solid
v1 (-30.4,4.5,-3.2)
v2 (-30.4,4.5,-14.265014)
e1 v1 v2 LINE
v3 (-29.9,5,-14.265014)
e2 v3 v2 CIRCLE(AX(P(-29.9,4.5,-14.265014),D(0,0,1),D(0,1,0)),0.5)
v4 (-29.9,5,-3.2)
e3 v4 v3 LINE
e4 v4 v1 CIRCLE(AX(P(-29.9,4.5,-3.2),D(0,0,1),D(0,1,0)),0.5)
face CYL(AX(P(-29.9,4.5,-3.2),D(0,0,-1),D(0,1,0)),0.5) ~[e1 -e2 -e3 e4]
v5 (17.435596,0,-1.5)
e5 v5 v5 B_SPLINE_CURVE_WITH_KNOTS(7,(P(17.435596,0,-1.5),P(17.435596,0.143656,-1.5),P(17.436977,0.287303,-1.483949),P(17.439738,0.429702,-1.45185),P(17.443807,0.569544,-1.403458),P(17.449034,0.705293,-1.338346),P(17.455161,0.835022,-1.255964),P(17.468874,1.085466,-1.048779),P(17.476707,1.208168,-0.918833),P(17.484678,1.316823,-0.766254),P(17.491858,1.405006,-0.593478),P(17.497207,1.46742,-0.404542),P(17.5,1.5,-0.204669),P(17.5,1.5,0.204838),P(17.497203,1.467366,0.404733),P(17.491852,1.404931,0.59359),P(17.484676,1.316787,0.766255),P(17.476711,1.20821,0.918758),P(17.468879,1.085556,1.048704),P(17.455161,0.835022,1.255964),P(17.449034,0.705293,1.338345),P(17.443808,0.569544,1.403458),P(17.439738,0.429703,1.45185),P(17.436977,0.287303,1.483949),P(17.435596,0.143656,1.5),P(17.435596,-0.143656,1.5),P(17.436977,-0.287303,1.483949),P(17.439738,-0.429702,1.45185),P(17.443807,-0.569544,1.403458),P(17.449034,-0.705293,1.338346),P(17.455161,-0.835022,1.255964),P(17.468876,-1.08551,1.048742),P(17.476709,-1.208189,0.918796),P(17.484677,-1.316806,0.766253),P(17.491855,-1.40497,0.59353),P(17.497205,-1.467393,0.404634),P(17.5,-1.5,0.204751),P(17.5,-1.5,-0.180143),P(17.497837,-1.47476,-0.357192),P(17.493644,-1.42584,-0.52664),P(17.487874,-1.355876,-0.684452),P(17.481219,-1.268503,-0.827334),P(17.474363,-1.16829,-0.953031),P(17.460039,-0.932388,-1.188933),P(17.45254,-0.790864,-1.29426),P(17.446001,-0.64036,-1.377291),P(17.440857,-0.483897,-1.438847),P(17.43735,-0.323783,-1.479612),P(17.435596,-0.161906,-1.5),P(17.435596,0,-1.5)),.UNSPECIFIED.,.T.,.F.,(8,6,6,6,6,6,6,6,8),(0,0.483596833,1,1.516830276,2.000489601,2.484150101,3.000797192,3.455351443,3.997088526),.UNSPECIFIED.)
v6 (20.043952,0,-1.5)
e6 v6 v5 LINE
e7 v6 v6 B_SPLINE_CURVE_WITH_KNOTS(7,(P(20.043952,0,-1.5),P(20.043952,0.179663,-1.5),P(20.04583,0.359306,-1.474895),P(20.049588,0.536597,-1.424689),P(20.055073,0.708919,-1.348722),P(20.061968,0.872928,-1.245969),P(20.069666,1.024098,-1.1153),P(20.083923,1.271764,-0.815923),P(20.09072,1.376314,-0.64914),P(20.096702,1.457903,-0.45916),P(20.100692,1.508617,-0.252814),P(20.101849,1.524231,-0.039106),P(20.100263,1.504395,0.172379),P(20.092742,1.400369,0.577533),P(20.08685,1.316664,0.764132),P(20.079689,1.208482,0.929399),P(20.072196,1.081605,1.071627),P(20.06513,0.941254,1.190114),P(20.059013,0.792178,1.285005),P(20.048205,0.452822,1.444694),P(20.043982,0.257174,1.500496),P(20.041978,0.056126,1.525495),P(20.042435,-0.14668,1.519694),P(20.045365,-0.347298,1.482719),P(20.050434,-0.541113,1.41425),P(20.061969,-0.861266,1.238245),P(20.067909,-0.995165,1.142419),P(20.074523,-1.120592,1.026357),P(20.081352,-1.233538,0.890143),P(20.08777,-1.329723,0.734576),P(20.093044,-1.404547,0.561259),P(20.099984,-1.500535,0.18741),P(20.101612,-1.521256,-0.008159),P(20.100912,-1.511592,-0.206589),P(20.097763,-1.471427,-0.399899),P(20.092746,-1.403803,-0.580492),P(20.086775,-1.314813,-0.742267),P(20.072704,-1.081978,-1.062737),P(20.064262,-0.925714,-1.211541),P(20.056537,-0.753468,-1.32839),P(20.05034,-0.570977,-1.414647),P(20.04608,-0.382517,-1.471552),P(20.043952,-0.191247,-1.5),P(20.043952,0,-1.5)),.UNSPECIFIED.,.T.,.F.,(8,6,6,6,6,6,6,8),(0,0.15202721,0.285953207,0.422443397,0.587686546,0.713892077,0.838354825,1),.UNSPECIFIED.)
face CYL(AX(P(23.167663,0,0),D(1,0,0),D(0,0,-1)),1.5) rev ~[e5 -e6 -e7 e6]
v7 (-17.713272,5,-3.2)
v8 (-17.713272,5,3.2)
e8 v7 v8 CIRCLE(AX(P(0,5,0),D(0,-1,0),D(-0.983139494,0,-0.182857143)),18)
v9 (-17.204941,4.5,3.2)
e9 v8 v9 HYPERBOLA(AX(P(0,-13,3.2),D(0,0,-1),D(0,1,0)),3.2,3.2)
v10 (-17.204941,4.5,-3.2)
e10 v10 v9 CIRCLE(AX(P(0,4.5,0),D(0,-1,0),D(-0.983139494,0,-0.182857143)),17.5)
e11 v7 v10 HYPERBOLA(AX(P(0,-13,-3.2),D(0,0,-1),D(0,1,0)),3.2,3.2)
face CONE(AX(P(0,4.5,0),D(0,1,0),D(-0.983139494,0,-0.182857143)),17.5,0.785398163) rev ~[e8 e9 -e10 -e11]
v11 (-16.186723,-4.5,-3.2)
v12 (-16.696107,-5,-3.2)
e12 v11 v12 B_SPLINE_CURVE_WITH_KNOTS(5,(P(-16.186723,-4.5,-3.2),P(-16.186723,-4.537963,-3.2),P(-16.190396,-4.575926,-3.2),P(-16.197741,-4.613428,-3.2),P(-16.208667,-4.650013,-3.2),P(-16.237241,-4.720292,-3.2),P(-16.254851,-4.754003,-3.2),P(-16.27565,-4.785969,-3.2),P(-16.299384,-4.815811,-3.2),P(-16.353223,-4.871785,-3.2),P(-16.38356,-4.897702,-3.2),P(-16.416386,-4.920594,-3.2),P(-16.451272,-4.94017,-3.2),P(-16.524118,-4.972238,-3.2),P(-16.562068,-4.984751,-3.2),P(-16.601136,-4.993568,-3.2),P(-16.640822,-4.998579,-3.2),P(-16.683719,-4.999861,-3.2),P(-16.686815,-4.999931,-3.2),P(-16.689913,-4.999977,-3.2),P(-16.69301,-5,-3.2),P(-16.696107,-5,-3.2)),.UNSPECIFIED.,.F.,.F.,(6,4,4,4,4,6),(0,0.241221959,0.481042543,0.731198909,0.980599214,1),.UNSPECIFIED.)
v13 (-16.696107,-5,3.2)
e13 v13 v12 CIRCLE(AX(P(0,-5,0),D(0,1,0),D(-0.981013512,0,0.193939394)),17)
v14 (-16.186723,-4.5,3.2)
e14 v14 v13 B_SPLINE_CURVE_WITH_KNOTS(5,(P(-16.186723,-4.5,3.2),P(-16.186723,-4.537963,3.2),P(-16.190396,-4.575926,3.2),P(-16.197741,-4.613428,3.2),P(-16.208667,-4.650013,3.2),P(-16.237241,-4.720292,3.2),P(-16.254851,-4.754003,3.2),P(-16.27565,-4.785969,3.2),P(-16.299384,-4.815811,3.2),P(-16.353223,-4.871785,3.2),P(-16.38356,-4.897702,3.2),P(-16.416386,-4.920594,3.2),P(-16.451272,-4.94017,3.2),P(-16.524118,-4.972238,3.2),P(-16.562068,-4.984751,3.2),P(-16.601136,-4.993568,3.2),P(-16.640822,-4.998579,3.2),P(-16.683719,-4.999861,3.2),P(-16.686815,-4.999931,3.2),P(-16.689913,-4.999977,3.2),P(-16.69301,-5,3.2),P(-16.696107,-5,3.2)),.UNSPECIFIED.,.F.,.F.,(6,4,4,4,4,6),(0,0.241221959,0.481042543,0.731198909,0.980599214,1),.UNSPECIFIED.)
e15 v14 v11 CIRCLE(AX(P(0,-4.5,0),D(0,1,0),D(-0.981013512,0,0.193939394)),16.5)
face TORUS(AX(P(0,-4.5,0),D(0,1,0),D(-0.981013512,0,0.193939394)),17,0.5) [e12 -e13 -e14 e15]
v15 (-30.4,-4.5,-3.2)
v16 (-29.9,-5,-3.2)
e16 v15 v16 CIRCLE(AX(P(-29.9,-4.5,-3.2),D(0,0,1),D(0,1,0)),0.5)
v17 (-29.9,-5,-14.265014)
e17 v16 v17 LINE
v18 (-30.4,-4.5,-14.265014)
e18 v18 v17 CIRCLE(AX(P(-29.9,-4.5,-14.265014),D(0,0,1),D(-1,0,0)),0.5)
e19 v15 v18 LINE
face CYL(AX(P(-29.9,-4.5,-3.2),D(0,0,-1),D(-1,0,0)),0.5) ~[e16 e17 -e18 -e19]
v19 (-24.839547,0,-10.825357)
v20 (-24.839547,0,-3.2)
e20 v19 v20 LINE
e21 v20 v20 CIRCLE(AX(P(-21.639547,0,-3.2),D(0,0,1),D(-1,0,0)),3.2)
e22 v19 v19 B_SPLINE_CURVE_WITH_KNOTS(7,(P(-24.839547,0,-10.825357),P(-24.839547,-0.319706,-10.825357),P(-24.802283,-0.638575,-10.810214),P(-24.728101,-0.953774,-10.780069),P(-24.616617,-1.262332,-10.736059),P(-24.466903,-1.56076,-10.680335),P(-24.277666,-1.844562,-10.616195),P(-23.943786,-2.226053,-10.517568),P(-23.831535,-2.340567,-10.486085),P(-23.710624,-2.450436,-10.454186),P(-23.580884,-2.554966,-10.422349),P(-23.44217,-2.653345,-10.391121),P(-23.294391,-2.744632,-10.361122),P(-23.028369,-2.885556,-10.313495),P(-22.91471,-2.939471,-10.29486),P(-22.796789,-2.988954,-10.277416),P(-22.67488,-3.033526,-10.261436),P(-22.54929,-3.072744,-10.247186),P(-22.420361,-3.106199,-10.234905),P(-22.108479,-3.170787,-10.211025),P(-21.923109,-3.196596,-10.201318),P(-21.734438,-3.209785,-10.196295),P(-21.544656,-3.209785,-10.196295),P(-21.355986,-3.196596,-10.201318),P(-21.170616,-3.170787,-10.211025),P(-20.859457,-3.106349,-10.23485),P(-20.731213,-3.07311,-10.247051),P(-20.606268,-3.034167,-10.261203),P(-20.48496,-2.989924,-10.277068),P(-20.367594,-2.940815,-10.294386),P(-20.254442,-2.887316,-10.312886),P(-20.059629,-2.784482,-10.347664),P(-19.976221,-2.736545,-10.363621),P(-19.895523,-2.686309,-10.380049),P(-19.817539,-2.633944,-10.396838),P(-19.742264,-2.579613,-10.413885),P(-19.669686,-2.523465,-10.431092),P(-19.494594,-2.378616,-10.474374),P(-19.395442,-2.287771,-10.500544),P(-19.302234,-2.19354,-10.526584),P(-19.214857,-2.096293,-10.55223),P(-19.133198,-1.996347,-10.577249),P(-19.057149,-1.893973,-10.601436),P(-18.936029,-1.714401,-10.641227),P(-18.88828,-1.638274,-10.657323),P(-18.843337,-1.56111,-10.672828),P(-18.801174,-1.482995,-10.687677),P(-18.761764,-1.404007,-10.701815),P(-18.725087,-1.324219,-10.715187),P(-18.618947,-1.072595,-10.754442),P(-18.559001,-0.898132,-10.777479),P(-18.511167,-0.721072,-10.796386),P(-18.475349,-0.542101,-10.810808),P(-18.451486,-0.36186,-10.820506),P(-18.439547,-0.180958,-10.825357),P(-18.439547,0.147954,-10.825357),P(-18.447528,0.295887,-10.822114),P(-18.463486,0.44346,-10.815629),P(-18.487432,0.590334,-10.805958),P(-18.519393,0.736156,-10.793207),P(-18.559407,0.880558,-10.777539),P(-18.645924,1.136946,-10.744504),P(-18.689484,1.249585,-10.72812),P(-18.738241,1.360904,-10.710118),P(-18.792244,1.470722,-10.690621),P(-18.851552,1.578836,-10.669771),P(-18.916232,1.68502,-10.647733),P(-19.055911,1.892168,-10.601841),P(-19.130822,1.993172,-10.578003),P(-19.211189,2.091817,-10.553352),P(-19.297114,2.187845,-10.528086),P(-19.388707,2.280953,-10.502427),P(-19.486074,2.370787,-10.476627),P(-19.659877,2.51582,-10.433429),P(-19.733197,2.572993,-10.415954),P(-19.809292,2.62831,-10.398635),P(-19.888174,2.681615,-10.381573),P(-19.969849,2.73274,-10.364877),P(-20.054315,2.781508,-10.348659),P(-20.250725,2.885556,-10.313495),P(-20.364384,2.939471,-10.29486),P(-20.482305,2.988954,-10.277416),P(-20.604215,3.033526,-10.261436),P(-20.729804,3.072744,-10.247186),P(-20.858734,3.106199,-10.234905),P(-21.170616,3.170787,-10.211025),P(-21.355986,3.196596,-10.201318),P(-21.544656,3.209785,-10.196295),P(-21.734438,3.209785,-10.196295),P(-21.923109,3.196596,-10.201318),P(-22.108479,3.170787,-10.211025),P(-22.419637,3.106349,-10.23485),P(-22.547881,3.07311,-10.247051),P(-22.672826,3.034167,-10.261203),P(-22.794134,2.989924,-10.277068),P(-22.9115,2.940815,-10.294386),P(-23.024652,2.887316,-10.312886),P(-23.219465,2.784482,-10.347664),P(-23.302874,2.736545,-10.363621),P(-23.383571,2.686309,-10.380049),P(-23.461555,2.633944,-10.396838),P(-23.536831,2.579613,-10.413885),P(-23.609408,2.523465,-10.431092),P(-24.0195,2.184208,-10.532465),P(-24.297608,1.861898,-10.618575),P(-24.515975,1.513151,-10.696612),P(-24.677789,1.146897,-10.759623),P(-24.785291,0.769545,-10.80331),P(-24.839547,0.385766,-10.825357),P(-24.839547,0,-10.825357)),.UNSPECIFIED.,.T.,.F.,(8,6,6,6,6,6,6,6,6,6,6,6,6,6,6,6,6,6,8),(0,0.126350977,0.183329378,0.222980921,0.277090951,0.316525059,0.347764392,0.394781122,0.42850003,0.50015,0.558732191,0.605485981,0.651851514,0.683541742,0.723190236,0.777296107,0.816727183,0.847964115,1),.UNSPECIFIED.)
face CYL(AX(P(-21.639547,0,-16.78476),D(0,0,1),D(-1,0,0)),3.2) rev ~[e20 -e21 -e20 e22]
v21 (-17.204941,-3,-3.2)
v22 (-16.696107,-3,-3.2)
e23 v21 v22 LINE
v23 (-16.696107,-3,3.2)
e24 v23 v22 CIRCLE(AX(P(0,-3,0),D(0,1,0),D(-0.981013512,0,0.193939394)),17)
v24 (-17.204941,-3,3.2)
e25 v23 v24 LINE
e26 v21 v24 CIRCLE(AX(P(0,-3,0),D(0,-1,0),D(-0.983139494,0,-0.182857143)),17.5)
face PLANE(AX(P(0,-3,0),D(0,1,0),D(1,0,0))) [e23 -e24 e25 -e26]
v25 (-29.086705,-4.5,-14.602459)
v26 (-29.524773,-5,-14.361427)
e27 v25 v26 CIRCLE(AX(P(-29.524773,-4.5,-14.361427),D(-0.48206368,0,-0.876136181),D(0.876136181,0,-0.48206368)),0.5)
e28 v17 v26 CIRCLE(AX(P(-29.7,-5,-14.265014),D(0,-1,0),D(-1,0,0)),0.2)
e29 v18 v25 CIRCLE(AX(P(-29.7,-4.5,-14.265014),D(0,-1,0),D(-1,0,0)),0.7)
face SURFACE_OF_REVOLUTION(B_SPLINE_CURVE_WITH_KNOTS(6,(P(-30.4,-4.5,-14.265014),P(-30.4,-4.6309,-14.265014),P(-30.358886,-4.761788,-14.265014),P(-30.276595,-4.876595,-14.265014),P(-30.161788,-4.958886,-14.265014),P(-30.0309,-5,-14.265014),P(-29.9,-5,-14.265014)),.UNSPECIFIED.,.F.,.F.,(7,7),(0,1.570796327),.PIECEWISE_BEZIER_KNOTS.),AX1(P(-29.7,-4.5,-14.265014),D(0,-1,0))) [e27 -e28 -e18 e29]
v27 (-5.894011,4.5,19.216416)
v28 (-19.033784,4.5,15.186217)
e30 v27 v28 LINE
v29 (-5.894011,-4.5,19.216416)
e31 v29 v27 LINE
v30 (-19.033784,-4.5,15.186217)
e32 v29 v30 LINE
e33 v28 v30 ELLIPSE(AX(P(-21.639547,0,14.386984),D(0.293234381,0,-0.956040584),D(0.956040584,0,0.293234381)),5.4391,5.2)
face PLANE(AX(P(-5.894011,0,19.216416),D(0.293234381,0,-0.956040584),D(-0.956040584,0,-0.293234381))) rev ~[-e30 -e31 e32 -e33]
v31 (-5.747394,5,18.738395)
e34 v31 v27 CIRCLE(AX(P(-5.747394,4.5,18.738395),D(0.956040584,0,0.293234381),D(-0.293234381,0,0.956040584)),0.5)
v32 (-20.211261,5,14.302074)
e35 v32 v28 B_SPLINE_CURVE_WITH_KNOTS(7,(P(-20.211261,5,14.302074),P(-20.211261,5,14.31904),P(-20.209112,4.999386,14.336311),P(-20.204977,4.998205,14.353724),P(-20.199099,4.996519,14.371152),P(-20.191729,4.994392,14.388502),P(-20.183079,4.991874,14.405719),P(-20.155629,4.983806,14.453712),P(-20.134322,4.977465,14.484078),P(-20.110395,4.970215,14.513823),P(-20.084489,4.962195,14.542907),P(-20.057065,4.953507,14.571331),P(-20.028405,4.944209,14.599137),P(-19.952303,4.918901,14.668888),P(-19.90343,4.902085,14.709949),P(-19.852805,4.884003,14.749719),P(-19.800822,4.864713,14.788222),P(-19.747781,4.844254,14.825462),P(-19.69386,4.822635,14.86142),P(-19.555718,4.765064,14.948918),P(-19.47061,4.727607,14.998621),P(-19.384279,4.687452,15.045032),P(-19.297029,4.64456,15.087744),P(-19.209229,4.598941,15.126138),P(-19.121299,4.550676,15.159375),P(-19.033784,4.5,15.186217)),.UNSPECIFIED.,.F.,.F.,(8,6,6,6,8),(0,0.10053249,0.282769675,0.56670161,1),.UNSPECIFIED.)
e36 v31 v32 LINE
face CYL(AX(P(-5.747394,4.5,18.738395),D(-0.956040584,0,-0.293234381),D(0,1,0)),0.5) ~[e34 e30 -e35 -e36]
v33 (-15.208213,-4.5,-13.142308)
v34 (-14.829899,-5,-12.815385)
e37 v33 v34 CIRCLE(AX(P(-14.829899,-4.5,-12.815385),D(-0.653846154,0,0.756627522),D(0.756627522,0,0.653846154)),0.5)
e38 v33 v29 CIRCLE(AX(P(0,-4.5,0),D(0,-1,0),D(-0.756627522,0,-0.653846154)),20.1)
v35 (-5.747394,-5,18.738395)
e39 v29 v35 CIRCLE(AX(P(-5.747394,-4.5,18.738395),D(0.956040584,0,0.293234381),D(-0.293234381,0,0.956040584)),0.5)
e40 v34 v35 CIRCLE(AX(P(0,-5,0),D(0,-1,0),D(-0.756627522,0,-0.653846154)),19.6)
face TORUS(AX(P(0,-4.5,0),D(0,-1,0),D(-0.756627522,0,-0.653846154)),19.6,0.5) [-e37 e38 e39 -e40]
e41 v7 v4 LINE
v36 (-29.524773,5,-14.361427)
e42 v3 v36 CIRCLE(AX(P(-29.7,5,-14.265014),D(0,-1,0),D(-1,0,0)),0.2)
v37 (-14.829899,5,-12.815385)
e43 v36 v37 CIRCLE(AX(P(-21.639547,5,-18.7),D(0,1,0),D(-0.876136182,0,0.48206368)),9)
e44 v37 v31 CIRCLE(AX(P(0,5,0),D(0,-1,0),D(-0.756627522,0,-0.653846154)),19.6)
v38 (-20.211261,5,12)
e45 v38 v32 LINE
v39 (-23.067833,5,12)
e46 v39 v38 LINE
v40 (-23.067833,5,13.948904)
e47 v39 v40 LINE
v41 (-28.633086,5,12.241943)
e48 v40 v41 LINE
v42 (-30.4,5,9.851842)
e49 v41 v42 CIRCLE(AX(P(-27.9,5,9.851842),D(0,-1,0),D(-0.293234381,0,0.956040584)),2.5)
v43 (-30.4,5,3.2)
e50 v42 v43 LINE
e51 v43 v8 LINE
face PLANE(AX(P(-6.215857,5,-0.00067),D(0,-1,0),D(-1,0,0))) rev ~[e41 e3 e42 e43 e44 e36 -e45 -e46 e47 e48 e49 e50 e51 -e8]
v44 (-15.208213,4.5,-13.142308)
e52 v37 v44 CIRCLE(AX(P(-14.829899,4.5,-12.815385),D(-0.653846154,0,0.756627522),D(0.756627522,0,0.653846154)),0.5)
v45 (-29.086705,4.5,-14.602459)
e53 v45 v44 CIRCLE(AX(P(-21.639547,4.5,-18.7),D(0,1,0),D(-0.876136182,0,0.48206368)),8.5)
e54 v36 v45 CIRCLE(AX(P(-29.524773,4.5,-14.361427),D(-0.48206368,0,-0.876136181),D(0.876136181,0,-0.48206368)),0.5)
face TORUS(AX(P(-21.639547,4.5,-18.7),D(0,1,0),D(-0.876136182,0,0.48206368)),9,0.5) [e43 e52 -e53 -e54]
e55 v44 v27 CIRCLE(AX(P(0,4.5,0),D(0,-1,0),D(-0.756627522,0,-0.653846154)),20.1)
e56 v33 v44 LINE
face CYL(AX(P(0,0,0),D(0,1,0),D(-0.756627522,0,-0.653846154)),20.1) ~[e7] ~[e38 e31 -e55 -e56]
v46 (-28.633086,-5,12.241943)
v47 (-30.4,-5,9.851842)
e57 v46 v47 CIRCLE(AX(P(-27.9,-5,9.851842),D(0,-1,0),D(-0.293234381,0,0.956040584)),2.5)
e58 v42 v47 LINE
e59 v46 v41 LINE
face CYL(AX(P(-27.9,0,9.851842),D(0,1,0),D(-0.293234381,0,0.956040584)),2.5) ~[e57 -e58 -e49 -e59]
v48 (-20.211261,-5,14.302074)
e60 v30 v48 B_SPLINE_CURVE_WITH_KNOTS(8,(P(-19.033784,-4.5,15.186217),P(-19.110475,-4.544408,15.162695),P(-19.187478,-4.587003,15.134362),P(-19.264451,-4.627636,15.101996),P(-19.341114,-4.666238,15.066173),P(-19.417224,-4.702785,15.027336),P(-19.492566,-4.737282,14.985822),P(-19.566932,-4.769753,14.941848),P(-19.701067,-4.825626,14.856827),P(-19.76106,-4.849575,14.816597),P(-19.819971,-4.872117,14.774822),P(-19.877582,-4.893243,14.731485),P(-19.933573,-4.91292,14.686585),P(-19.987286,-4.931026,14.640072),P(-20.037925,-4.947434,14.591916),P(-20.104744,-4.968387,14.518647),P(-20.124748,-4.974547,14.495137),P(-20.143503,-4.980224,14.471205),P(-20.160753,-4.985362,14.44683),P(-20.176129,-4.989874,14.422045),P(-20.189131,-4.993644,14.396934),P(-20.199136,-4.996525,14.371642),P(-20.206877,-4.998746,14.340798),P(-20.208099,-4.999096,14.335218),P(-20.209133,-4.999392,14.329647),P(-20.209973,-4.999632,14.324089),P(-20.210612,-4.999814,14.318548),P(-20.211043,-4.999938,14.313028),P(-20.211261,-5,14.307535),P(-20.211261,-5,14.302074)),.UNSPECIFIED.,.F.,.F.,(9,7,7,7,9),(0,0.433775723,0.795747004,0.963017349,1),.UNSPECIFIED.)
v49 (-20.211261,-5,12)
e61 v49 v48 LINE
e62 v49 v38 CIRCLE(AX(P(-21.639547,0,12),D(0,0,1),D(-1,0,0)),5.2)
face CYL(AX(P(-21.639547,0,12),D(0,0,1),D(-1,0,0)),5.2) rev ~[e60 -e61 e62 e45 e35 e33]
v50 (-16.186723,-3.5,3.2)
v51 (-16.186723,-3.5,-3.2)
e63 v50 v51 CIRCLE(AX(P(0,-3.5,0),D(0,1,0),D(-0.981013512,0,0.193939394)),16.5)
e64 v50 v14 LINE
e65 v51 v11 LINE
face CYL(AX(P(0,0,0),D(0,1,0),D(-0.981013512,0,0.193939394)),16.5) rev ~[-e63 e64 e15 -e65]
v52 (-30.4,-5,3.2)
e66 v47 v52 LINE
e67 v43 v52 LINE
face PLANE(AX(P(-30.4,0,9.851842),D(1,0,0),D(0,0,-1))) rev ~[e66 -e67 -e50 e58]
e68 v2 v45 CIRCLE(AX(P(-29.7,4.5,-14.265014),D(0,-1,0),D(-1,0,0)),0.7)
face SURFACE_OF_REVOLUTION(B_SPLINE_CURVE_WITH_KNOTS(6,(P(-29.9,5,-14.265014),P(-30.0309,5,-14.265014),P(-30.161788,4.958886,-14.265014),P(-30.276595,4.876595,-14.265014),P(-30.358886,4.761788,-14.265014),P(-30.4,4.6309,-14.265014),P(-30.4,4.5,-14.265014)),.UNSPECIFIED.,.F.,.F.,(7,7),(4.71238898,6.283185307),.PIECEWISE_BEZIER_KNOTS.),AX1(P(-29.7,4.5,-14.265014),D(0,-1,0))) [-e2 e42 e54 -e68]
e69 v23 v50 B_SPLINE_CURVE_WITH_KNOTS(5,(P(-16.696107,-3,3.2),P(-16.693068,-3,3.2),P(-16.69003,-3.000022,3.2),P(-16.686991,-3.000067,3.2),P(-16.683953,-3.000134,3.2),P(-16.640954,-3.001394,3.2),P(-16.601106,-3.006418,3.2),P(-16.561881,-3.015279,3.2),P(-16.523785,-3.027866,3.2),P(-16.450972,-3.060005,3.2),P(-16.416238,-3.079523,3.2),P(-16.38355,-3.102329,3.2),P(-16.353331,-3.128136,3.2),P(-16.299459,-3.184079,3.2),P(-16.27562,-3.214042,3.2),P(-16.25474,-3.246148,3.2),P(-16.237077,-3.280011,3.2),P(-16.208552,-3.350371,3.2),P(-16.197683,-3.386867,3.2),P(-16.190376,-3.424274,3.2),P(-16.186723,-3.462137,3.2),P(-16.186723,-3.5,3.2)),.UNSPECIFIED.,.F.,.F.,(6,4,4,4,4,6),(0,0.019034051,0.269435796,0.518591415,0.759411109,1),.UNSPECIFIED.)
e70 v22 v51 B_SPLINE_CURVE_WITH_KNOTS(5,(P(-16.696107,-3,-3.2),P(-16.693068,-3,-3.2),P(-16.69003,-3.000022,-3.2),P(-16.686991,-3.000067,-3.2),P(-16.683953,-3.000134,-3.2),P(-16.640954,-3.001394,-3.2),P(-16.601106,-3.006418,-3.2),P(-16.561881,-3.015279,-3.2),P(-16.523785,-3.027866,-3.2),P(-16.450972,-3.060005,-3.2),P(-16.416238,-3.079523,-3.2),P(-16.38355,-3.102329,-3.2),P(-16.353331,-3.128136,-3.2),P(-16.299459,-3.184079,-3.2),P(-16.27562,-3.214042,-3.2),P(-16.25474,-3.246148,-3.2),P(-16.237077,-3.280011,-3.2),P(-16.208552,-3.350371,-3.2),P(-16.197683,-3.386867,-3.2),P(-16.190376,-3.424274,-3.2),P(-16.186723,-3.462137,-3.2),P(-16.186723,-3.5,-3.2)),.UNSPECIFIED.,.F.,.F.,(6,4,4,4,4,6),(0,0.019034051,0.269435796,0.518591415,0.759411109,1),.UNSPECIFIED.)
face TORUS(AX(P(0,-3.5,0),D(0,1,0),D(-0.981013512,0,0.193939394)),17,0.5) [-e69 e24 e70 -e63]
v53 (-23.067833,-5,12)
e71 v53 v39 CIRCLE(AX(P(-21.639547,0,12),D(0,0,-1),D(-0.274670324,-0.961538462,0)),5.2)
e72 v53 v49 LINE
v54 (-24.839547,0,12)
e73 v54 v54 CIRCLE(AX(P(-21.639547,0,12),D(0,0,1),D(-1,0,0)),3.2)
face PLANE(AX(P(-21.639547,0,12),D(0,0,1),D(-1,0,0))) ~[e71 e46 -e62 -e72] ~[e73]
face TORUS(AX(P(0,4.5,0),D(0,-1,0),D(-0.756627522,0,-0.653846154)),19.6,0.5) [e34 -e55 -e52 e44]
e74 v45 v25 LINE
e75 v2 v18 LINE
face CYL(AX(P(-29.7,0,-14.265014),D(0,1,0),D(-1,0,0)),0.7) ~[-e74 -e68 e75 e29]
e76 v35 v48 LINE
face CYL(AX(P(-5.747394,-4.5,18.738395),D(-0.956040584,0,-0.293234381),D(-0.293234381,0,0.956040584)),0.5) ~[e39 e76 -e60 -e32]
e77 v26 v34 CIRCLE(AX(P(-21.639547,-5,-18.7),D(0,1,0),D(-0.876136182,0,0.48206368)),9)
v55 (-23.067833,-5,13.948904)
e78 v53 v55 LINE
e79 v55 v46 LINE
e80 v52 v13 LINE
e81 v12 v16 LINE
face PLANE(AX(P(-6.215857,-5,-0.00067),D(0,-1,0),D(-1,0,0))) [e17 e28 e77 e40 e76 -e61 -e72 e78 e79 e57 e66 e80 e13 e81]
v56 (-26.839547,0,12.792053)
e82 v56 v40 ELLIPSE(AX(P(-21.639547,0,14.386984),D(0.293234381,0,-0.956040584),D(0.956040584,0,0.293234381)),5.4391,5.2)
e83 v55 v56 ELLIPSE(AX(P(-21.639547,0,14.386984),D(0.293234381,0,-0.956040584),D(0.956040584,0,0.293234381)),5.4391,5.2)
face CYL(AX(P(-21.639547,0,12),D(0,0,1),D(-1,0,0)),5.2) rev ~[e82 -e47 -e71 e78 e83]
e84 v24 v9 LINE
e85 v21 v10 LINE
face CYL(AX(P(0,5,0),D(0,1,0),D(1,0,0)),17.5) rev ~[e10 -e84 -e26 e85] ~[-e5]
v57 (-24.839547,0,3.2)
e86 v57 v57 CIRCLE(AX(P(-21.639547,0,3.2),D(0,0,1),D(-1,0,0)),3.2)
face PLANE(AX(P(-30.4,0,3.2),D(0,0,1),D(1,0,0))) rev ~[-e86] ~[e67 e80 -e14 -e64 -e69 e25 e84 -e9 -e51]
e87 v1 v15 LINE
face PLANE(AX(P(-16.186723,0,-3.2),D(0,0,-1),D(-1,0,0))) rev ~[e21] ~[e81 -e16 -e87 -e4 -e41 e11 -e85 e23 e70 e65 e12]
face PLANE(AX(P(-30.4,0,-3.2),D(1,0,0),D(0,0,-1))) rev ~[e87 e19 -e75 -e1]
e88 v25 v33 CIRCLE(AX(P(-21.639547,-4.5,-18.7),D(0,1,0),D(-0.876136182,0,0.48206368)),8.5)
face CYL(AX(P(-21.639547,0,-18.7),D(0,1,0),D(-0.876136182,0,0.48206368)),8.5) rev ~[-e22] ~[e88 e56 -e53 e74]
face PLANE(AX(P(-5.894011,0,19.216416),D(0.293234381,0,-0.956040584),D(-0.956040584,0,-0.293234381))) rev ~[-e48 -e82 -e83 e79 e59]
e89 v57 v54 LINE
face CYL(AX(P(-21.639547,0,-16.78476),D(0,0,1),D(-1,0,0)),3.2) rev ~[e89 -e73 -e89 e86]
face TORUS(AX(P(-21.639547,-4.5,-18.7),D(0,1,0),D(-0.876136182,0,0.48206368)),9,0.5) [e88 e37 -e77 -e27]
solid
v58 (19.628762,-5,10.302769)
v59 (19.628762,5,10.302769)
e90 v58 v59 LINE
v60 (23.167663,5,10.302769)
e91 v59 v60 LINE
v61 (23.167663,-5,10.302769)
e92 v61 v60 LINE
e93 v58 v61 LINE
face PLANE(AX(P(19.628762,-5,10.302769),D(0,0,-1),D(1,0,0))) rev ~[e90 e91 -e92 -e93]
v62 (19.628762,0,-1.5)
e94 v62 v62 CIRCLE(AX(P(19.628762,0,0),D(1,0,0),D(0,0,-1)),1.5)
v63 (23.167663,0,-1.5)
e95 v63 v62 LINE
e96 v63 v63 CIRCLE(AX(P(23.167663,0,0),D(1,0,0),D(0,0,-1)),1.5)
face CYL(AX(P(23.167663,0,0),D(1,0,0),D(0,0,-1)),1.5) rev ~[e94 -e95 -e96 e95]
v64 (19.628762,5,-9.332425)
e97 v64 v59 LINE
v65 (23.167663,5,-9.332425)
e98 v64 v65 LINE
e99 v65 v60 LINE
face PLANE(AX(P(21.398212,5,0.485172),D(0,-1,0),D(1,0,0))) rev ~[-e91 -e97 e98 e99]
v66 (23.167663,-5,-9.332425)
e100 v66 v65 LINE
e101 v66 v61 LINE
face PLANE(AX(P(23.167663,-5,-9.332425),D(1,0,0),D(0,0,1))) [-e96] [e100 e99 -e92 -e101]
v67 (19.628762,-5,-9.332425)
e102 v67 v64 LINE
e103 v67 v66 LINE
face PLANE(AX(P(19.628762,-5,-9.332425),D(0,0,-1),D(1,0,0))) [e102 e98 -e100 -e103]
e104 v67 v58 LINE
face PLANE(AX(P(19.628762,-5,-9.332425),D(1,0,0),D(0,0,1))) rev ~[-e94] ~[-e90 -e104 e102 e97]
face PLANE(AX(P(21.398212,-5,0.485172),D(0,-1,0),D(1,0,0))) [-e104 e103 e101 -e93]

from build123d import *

# Parameters (mm, degrees)
EXTRUDE_1_DEPTH     = 5
SKETCH_2_R          = 17.5
CUT_EXTRUDE_1_DEPTH = 8
CHAMFER_1_SIZE      = 0.5
SKETCH4_W           = 3.538901111
SKETCH4_H           = 19.635193261
BOSS_EXTRUDE1_DEPTH = 10
FILLET_1_R          = 0.5
SKETCH5_R           = 1.5
CUT_EXTRUDE1_DEPTH  = 10


with BuildPart() as part:
    # Эскиз1 → Бобышка-Вытянуть1 (new body, symmetric)
    with BuildSketch(Plane(origin=(0, 0, 0), x_dir=(1, 0, 0), z_dir=(0, 1, 0))):
        with BuildLine():
            ThreePointArc((-28.633085951, -12.241943465), (-29.910312771, -11.337992253), (-30.4, -9.851842005))
            Line((-30.4, -9.851842005), (-30.4, -3.2))
            Line((-30.4, -3.2), (-16.186722954, -3.2))
            ThreePointArc((-16.186722954, -3.2), (16.5, 0), (-16.186722954, 3.2))
            Line((-16.186722954, 3.2), (-30.4, 3.2))
            Line((-30.4, 3.2), (-30.4, 14.265014145))
            ThreePointArc((-30.4, 14.265014145), (-29.874202857, 14.942991552), (-29.086704673, 14.602458721))
            ThreePointArc((-29.086704673, 14.602458721), (-22.528920312, 10.246656558), (-15.208213193, 13.142307692))
            ThreePointArc((-15.208213193, 13.142307692), (19.31573743, 5.559881971), (-5.894011049, -19.216415736))
            Line((-5.894011049, -19.216415736), (-28.633085951, -12.241943465))
        make_face()
    extrude(amount=EXTRUDE_1_DEPTH, both=True)

    # Эскиз2 → Вырез-Вытянуть1 (cut)
    with BuildSketch(Plane(origin=(0, 5, 0), x_dir=(1, 0, 0), z_dir=(0, 1, 0))):
        Circle(SKETCH_2_R)
    extrude(amount=-CUT_EXTRUDE_1_DEPTH, mode=Mode.SUBTRACT)

    # Эскиз4 → Вырез-Повернуть1 (revolve, cut)
    with BuildSketch(Plane(origin=(0, 0, 0), x_dir=(1, 0, 0), z_dir=(0, 1, 0))):
        Polygon((-24.83954713, 16.784760474), (-24.83954713, -12), (-26.83954713, -12), (-26.83954713, -19.633670517), (-21.63954713, -19.633670517), (-21.63954713, 16.784760474), align=None)
    revolve(axis=Axis((-21.63954713, 0, -18.7), (0, 0, 1)), mode=Mode.SUBTRACT)

    # Фаска1
    chamfer_1_edges = [part.edges().sort_by_distance(p)[0] for p in [
        (17.5, 5, 0),
    ]]
    chamfer(chamfer_1_edges, length=CHAMFER_1_SIZE)

    # Скругление1
    fillet_1_edges = [part.edges().sort_by_distance(p)[0] for p in [
        (-13.052636247, -5, 17.020740092),
        (-22.528920312, -5, -10.246656558),
        (-13.052636247, 5, 17.020740092),
        (-22.528920312, 5, -10.246656558),
        (16.5, -3, 0),
        (16.5, -5, 0),
        (19.31573743, -5, -5.559881971),
        (19.31573743, 5, -5.559881971),
        (-30.4, -5, -8.732507073),
        (-29.874202857, -5, -14.942991552),
        (-30.4, 5, -8.732507073),
        (-29.874202857, 5, -14.942991552),
    ]]
    fillet(fillet_1_edges, radius=FILLET_1_R)


with BuildPart() as body_2:
    # Sketch4 → Boss-Extrude1 (new body)
    with BuildSketch(Plane.XZ.offset(5)):
        with Locations((21.398212396, 0.485171926)):
            Rectangle(SKETCH4_W, SKETCH4_H)
    extrude(amount=-BOSS_EXTRUDE1_DEPTH)


with BuildPart() as cut_extrude1_tool:
    # Sketch5 → Cut-Extrude1 (new body)
    with BuildSketch(Plane(origin=(23.167662951, 0, 0), x_dir=(0, 0, -1), z_dir=(1, 0, 0))):
        Circle(SKETCH5_R)
    extrude(amount=-CUT_EXTRUDE1_DEPTH)


with BuildPart() as part_1:
    add(part.part)

    # Cut-Extrude1: cut by cut_extrude1_tool
    add(cut_extrude1_tool.part, mode=Mode.SUBTRACT)


with BuildPart() as body_2_1:
    add(body_2.part)

    # Cut-Extrude1: cut by cut_extrude1_tool
    add(cut_extrude1_tool.part, mode=Mode.SUBTRACT)


solid = Compound([part_1.part, body_2_1.part])
